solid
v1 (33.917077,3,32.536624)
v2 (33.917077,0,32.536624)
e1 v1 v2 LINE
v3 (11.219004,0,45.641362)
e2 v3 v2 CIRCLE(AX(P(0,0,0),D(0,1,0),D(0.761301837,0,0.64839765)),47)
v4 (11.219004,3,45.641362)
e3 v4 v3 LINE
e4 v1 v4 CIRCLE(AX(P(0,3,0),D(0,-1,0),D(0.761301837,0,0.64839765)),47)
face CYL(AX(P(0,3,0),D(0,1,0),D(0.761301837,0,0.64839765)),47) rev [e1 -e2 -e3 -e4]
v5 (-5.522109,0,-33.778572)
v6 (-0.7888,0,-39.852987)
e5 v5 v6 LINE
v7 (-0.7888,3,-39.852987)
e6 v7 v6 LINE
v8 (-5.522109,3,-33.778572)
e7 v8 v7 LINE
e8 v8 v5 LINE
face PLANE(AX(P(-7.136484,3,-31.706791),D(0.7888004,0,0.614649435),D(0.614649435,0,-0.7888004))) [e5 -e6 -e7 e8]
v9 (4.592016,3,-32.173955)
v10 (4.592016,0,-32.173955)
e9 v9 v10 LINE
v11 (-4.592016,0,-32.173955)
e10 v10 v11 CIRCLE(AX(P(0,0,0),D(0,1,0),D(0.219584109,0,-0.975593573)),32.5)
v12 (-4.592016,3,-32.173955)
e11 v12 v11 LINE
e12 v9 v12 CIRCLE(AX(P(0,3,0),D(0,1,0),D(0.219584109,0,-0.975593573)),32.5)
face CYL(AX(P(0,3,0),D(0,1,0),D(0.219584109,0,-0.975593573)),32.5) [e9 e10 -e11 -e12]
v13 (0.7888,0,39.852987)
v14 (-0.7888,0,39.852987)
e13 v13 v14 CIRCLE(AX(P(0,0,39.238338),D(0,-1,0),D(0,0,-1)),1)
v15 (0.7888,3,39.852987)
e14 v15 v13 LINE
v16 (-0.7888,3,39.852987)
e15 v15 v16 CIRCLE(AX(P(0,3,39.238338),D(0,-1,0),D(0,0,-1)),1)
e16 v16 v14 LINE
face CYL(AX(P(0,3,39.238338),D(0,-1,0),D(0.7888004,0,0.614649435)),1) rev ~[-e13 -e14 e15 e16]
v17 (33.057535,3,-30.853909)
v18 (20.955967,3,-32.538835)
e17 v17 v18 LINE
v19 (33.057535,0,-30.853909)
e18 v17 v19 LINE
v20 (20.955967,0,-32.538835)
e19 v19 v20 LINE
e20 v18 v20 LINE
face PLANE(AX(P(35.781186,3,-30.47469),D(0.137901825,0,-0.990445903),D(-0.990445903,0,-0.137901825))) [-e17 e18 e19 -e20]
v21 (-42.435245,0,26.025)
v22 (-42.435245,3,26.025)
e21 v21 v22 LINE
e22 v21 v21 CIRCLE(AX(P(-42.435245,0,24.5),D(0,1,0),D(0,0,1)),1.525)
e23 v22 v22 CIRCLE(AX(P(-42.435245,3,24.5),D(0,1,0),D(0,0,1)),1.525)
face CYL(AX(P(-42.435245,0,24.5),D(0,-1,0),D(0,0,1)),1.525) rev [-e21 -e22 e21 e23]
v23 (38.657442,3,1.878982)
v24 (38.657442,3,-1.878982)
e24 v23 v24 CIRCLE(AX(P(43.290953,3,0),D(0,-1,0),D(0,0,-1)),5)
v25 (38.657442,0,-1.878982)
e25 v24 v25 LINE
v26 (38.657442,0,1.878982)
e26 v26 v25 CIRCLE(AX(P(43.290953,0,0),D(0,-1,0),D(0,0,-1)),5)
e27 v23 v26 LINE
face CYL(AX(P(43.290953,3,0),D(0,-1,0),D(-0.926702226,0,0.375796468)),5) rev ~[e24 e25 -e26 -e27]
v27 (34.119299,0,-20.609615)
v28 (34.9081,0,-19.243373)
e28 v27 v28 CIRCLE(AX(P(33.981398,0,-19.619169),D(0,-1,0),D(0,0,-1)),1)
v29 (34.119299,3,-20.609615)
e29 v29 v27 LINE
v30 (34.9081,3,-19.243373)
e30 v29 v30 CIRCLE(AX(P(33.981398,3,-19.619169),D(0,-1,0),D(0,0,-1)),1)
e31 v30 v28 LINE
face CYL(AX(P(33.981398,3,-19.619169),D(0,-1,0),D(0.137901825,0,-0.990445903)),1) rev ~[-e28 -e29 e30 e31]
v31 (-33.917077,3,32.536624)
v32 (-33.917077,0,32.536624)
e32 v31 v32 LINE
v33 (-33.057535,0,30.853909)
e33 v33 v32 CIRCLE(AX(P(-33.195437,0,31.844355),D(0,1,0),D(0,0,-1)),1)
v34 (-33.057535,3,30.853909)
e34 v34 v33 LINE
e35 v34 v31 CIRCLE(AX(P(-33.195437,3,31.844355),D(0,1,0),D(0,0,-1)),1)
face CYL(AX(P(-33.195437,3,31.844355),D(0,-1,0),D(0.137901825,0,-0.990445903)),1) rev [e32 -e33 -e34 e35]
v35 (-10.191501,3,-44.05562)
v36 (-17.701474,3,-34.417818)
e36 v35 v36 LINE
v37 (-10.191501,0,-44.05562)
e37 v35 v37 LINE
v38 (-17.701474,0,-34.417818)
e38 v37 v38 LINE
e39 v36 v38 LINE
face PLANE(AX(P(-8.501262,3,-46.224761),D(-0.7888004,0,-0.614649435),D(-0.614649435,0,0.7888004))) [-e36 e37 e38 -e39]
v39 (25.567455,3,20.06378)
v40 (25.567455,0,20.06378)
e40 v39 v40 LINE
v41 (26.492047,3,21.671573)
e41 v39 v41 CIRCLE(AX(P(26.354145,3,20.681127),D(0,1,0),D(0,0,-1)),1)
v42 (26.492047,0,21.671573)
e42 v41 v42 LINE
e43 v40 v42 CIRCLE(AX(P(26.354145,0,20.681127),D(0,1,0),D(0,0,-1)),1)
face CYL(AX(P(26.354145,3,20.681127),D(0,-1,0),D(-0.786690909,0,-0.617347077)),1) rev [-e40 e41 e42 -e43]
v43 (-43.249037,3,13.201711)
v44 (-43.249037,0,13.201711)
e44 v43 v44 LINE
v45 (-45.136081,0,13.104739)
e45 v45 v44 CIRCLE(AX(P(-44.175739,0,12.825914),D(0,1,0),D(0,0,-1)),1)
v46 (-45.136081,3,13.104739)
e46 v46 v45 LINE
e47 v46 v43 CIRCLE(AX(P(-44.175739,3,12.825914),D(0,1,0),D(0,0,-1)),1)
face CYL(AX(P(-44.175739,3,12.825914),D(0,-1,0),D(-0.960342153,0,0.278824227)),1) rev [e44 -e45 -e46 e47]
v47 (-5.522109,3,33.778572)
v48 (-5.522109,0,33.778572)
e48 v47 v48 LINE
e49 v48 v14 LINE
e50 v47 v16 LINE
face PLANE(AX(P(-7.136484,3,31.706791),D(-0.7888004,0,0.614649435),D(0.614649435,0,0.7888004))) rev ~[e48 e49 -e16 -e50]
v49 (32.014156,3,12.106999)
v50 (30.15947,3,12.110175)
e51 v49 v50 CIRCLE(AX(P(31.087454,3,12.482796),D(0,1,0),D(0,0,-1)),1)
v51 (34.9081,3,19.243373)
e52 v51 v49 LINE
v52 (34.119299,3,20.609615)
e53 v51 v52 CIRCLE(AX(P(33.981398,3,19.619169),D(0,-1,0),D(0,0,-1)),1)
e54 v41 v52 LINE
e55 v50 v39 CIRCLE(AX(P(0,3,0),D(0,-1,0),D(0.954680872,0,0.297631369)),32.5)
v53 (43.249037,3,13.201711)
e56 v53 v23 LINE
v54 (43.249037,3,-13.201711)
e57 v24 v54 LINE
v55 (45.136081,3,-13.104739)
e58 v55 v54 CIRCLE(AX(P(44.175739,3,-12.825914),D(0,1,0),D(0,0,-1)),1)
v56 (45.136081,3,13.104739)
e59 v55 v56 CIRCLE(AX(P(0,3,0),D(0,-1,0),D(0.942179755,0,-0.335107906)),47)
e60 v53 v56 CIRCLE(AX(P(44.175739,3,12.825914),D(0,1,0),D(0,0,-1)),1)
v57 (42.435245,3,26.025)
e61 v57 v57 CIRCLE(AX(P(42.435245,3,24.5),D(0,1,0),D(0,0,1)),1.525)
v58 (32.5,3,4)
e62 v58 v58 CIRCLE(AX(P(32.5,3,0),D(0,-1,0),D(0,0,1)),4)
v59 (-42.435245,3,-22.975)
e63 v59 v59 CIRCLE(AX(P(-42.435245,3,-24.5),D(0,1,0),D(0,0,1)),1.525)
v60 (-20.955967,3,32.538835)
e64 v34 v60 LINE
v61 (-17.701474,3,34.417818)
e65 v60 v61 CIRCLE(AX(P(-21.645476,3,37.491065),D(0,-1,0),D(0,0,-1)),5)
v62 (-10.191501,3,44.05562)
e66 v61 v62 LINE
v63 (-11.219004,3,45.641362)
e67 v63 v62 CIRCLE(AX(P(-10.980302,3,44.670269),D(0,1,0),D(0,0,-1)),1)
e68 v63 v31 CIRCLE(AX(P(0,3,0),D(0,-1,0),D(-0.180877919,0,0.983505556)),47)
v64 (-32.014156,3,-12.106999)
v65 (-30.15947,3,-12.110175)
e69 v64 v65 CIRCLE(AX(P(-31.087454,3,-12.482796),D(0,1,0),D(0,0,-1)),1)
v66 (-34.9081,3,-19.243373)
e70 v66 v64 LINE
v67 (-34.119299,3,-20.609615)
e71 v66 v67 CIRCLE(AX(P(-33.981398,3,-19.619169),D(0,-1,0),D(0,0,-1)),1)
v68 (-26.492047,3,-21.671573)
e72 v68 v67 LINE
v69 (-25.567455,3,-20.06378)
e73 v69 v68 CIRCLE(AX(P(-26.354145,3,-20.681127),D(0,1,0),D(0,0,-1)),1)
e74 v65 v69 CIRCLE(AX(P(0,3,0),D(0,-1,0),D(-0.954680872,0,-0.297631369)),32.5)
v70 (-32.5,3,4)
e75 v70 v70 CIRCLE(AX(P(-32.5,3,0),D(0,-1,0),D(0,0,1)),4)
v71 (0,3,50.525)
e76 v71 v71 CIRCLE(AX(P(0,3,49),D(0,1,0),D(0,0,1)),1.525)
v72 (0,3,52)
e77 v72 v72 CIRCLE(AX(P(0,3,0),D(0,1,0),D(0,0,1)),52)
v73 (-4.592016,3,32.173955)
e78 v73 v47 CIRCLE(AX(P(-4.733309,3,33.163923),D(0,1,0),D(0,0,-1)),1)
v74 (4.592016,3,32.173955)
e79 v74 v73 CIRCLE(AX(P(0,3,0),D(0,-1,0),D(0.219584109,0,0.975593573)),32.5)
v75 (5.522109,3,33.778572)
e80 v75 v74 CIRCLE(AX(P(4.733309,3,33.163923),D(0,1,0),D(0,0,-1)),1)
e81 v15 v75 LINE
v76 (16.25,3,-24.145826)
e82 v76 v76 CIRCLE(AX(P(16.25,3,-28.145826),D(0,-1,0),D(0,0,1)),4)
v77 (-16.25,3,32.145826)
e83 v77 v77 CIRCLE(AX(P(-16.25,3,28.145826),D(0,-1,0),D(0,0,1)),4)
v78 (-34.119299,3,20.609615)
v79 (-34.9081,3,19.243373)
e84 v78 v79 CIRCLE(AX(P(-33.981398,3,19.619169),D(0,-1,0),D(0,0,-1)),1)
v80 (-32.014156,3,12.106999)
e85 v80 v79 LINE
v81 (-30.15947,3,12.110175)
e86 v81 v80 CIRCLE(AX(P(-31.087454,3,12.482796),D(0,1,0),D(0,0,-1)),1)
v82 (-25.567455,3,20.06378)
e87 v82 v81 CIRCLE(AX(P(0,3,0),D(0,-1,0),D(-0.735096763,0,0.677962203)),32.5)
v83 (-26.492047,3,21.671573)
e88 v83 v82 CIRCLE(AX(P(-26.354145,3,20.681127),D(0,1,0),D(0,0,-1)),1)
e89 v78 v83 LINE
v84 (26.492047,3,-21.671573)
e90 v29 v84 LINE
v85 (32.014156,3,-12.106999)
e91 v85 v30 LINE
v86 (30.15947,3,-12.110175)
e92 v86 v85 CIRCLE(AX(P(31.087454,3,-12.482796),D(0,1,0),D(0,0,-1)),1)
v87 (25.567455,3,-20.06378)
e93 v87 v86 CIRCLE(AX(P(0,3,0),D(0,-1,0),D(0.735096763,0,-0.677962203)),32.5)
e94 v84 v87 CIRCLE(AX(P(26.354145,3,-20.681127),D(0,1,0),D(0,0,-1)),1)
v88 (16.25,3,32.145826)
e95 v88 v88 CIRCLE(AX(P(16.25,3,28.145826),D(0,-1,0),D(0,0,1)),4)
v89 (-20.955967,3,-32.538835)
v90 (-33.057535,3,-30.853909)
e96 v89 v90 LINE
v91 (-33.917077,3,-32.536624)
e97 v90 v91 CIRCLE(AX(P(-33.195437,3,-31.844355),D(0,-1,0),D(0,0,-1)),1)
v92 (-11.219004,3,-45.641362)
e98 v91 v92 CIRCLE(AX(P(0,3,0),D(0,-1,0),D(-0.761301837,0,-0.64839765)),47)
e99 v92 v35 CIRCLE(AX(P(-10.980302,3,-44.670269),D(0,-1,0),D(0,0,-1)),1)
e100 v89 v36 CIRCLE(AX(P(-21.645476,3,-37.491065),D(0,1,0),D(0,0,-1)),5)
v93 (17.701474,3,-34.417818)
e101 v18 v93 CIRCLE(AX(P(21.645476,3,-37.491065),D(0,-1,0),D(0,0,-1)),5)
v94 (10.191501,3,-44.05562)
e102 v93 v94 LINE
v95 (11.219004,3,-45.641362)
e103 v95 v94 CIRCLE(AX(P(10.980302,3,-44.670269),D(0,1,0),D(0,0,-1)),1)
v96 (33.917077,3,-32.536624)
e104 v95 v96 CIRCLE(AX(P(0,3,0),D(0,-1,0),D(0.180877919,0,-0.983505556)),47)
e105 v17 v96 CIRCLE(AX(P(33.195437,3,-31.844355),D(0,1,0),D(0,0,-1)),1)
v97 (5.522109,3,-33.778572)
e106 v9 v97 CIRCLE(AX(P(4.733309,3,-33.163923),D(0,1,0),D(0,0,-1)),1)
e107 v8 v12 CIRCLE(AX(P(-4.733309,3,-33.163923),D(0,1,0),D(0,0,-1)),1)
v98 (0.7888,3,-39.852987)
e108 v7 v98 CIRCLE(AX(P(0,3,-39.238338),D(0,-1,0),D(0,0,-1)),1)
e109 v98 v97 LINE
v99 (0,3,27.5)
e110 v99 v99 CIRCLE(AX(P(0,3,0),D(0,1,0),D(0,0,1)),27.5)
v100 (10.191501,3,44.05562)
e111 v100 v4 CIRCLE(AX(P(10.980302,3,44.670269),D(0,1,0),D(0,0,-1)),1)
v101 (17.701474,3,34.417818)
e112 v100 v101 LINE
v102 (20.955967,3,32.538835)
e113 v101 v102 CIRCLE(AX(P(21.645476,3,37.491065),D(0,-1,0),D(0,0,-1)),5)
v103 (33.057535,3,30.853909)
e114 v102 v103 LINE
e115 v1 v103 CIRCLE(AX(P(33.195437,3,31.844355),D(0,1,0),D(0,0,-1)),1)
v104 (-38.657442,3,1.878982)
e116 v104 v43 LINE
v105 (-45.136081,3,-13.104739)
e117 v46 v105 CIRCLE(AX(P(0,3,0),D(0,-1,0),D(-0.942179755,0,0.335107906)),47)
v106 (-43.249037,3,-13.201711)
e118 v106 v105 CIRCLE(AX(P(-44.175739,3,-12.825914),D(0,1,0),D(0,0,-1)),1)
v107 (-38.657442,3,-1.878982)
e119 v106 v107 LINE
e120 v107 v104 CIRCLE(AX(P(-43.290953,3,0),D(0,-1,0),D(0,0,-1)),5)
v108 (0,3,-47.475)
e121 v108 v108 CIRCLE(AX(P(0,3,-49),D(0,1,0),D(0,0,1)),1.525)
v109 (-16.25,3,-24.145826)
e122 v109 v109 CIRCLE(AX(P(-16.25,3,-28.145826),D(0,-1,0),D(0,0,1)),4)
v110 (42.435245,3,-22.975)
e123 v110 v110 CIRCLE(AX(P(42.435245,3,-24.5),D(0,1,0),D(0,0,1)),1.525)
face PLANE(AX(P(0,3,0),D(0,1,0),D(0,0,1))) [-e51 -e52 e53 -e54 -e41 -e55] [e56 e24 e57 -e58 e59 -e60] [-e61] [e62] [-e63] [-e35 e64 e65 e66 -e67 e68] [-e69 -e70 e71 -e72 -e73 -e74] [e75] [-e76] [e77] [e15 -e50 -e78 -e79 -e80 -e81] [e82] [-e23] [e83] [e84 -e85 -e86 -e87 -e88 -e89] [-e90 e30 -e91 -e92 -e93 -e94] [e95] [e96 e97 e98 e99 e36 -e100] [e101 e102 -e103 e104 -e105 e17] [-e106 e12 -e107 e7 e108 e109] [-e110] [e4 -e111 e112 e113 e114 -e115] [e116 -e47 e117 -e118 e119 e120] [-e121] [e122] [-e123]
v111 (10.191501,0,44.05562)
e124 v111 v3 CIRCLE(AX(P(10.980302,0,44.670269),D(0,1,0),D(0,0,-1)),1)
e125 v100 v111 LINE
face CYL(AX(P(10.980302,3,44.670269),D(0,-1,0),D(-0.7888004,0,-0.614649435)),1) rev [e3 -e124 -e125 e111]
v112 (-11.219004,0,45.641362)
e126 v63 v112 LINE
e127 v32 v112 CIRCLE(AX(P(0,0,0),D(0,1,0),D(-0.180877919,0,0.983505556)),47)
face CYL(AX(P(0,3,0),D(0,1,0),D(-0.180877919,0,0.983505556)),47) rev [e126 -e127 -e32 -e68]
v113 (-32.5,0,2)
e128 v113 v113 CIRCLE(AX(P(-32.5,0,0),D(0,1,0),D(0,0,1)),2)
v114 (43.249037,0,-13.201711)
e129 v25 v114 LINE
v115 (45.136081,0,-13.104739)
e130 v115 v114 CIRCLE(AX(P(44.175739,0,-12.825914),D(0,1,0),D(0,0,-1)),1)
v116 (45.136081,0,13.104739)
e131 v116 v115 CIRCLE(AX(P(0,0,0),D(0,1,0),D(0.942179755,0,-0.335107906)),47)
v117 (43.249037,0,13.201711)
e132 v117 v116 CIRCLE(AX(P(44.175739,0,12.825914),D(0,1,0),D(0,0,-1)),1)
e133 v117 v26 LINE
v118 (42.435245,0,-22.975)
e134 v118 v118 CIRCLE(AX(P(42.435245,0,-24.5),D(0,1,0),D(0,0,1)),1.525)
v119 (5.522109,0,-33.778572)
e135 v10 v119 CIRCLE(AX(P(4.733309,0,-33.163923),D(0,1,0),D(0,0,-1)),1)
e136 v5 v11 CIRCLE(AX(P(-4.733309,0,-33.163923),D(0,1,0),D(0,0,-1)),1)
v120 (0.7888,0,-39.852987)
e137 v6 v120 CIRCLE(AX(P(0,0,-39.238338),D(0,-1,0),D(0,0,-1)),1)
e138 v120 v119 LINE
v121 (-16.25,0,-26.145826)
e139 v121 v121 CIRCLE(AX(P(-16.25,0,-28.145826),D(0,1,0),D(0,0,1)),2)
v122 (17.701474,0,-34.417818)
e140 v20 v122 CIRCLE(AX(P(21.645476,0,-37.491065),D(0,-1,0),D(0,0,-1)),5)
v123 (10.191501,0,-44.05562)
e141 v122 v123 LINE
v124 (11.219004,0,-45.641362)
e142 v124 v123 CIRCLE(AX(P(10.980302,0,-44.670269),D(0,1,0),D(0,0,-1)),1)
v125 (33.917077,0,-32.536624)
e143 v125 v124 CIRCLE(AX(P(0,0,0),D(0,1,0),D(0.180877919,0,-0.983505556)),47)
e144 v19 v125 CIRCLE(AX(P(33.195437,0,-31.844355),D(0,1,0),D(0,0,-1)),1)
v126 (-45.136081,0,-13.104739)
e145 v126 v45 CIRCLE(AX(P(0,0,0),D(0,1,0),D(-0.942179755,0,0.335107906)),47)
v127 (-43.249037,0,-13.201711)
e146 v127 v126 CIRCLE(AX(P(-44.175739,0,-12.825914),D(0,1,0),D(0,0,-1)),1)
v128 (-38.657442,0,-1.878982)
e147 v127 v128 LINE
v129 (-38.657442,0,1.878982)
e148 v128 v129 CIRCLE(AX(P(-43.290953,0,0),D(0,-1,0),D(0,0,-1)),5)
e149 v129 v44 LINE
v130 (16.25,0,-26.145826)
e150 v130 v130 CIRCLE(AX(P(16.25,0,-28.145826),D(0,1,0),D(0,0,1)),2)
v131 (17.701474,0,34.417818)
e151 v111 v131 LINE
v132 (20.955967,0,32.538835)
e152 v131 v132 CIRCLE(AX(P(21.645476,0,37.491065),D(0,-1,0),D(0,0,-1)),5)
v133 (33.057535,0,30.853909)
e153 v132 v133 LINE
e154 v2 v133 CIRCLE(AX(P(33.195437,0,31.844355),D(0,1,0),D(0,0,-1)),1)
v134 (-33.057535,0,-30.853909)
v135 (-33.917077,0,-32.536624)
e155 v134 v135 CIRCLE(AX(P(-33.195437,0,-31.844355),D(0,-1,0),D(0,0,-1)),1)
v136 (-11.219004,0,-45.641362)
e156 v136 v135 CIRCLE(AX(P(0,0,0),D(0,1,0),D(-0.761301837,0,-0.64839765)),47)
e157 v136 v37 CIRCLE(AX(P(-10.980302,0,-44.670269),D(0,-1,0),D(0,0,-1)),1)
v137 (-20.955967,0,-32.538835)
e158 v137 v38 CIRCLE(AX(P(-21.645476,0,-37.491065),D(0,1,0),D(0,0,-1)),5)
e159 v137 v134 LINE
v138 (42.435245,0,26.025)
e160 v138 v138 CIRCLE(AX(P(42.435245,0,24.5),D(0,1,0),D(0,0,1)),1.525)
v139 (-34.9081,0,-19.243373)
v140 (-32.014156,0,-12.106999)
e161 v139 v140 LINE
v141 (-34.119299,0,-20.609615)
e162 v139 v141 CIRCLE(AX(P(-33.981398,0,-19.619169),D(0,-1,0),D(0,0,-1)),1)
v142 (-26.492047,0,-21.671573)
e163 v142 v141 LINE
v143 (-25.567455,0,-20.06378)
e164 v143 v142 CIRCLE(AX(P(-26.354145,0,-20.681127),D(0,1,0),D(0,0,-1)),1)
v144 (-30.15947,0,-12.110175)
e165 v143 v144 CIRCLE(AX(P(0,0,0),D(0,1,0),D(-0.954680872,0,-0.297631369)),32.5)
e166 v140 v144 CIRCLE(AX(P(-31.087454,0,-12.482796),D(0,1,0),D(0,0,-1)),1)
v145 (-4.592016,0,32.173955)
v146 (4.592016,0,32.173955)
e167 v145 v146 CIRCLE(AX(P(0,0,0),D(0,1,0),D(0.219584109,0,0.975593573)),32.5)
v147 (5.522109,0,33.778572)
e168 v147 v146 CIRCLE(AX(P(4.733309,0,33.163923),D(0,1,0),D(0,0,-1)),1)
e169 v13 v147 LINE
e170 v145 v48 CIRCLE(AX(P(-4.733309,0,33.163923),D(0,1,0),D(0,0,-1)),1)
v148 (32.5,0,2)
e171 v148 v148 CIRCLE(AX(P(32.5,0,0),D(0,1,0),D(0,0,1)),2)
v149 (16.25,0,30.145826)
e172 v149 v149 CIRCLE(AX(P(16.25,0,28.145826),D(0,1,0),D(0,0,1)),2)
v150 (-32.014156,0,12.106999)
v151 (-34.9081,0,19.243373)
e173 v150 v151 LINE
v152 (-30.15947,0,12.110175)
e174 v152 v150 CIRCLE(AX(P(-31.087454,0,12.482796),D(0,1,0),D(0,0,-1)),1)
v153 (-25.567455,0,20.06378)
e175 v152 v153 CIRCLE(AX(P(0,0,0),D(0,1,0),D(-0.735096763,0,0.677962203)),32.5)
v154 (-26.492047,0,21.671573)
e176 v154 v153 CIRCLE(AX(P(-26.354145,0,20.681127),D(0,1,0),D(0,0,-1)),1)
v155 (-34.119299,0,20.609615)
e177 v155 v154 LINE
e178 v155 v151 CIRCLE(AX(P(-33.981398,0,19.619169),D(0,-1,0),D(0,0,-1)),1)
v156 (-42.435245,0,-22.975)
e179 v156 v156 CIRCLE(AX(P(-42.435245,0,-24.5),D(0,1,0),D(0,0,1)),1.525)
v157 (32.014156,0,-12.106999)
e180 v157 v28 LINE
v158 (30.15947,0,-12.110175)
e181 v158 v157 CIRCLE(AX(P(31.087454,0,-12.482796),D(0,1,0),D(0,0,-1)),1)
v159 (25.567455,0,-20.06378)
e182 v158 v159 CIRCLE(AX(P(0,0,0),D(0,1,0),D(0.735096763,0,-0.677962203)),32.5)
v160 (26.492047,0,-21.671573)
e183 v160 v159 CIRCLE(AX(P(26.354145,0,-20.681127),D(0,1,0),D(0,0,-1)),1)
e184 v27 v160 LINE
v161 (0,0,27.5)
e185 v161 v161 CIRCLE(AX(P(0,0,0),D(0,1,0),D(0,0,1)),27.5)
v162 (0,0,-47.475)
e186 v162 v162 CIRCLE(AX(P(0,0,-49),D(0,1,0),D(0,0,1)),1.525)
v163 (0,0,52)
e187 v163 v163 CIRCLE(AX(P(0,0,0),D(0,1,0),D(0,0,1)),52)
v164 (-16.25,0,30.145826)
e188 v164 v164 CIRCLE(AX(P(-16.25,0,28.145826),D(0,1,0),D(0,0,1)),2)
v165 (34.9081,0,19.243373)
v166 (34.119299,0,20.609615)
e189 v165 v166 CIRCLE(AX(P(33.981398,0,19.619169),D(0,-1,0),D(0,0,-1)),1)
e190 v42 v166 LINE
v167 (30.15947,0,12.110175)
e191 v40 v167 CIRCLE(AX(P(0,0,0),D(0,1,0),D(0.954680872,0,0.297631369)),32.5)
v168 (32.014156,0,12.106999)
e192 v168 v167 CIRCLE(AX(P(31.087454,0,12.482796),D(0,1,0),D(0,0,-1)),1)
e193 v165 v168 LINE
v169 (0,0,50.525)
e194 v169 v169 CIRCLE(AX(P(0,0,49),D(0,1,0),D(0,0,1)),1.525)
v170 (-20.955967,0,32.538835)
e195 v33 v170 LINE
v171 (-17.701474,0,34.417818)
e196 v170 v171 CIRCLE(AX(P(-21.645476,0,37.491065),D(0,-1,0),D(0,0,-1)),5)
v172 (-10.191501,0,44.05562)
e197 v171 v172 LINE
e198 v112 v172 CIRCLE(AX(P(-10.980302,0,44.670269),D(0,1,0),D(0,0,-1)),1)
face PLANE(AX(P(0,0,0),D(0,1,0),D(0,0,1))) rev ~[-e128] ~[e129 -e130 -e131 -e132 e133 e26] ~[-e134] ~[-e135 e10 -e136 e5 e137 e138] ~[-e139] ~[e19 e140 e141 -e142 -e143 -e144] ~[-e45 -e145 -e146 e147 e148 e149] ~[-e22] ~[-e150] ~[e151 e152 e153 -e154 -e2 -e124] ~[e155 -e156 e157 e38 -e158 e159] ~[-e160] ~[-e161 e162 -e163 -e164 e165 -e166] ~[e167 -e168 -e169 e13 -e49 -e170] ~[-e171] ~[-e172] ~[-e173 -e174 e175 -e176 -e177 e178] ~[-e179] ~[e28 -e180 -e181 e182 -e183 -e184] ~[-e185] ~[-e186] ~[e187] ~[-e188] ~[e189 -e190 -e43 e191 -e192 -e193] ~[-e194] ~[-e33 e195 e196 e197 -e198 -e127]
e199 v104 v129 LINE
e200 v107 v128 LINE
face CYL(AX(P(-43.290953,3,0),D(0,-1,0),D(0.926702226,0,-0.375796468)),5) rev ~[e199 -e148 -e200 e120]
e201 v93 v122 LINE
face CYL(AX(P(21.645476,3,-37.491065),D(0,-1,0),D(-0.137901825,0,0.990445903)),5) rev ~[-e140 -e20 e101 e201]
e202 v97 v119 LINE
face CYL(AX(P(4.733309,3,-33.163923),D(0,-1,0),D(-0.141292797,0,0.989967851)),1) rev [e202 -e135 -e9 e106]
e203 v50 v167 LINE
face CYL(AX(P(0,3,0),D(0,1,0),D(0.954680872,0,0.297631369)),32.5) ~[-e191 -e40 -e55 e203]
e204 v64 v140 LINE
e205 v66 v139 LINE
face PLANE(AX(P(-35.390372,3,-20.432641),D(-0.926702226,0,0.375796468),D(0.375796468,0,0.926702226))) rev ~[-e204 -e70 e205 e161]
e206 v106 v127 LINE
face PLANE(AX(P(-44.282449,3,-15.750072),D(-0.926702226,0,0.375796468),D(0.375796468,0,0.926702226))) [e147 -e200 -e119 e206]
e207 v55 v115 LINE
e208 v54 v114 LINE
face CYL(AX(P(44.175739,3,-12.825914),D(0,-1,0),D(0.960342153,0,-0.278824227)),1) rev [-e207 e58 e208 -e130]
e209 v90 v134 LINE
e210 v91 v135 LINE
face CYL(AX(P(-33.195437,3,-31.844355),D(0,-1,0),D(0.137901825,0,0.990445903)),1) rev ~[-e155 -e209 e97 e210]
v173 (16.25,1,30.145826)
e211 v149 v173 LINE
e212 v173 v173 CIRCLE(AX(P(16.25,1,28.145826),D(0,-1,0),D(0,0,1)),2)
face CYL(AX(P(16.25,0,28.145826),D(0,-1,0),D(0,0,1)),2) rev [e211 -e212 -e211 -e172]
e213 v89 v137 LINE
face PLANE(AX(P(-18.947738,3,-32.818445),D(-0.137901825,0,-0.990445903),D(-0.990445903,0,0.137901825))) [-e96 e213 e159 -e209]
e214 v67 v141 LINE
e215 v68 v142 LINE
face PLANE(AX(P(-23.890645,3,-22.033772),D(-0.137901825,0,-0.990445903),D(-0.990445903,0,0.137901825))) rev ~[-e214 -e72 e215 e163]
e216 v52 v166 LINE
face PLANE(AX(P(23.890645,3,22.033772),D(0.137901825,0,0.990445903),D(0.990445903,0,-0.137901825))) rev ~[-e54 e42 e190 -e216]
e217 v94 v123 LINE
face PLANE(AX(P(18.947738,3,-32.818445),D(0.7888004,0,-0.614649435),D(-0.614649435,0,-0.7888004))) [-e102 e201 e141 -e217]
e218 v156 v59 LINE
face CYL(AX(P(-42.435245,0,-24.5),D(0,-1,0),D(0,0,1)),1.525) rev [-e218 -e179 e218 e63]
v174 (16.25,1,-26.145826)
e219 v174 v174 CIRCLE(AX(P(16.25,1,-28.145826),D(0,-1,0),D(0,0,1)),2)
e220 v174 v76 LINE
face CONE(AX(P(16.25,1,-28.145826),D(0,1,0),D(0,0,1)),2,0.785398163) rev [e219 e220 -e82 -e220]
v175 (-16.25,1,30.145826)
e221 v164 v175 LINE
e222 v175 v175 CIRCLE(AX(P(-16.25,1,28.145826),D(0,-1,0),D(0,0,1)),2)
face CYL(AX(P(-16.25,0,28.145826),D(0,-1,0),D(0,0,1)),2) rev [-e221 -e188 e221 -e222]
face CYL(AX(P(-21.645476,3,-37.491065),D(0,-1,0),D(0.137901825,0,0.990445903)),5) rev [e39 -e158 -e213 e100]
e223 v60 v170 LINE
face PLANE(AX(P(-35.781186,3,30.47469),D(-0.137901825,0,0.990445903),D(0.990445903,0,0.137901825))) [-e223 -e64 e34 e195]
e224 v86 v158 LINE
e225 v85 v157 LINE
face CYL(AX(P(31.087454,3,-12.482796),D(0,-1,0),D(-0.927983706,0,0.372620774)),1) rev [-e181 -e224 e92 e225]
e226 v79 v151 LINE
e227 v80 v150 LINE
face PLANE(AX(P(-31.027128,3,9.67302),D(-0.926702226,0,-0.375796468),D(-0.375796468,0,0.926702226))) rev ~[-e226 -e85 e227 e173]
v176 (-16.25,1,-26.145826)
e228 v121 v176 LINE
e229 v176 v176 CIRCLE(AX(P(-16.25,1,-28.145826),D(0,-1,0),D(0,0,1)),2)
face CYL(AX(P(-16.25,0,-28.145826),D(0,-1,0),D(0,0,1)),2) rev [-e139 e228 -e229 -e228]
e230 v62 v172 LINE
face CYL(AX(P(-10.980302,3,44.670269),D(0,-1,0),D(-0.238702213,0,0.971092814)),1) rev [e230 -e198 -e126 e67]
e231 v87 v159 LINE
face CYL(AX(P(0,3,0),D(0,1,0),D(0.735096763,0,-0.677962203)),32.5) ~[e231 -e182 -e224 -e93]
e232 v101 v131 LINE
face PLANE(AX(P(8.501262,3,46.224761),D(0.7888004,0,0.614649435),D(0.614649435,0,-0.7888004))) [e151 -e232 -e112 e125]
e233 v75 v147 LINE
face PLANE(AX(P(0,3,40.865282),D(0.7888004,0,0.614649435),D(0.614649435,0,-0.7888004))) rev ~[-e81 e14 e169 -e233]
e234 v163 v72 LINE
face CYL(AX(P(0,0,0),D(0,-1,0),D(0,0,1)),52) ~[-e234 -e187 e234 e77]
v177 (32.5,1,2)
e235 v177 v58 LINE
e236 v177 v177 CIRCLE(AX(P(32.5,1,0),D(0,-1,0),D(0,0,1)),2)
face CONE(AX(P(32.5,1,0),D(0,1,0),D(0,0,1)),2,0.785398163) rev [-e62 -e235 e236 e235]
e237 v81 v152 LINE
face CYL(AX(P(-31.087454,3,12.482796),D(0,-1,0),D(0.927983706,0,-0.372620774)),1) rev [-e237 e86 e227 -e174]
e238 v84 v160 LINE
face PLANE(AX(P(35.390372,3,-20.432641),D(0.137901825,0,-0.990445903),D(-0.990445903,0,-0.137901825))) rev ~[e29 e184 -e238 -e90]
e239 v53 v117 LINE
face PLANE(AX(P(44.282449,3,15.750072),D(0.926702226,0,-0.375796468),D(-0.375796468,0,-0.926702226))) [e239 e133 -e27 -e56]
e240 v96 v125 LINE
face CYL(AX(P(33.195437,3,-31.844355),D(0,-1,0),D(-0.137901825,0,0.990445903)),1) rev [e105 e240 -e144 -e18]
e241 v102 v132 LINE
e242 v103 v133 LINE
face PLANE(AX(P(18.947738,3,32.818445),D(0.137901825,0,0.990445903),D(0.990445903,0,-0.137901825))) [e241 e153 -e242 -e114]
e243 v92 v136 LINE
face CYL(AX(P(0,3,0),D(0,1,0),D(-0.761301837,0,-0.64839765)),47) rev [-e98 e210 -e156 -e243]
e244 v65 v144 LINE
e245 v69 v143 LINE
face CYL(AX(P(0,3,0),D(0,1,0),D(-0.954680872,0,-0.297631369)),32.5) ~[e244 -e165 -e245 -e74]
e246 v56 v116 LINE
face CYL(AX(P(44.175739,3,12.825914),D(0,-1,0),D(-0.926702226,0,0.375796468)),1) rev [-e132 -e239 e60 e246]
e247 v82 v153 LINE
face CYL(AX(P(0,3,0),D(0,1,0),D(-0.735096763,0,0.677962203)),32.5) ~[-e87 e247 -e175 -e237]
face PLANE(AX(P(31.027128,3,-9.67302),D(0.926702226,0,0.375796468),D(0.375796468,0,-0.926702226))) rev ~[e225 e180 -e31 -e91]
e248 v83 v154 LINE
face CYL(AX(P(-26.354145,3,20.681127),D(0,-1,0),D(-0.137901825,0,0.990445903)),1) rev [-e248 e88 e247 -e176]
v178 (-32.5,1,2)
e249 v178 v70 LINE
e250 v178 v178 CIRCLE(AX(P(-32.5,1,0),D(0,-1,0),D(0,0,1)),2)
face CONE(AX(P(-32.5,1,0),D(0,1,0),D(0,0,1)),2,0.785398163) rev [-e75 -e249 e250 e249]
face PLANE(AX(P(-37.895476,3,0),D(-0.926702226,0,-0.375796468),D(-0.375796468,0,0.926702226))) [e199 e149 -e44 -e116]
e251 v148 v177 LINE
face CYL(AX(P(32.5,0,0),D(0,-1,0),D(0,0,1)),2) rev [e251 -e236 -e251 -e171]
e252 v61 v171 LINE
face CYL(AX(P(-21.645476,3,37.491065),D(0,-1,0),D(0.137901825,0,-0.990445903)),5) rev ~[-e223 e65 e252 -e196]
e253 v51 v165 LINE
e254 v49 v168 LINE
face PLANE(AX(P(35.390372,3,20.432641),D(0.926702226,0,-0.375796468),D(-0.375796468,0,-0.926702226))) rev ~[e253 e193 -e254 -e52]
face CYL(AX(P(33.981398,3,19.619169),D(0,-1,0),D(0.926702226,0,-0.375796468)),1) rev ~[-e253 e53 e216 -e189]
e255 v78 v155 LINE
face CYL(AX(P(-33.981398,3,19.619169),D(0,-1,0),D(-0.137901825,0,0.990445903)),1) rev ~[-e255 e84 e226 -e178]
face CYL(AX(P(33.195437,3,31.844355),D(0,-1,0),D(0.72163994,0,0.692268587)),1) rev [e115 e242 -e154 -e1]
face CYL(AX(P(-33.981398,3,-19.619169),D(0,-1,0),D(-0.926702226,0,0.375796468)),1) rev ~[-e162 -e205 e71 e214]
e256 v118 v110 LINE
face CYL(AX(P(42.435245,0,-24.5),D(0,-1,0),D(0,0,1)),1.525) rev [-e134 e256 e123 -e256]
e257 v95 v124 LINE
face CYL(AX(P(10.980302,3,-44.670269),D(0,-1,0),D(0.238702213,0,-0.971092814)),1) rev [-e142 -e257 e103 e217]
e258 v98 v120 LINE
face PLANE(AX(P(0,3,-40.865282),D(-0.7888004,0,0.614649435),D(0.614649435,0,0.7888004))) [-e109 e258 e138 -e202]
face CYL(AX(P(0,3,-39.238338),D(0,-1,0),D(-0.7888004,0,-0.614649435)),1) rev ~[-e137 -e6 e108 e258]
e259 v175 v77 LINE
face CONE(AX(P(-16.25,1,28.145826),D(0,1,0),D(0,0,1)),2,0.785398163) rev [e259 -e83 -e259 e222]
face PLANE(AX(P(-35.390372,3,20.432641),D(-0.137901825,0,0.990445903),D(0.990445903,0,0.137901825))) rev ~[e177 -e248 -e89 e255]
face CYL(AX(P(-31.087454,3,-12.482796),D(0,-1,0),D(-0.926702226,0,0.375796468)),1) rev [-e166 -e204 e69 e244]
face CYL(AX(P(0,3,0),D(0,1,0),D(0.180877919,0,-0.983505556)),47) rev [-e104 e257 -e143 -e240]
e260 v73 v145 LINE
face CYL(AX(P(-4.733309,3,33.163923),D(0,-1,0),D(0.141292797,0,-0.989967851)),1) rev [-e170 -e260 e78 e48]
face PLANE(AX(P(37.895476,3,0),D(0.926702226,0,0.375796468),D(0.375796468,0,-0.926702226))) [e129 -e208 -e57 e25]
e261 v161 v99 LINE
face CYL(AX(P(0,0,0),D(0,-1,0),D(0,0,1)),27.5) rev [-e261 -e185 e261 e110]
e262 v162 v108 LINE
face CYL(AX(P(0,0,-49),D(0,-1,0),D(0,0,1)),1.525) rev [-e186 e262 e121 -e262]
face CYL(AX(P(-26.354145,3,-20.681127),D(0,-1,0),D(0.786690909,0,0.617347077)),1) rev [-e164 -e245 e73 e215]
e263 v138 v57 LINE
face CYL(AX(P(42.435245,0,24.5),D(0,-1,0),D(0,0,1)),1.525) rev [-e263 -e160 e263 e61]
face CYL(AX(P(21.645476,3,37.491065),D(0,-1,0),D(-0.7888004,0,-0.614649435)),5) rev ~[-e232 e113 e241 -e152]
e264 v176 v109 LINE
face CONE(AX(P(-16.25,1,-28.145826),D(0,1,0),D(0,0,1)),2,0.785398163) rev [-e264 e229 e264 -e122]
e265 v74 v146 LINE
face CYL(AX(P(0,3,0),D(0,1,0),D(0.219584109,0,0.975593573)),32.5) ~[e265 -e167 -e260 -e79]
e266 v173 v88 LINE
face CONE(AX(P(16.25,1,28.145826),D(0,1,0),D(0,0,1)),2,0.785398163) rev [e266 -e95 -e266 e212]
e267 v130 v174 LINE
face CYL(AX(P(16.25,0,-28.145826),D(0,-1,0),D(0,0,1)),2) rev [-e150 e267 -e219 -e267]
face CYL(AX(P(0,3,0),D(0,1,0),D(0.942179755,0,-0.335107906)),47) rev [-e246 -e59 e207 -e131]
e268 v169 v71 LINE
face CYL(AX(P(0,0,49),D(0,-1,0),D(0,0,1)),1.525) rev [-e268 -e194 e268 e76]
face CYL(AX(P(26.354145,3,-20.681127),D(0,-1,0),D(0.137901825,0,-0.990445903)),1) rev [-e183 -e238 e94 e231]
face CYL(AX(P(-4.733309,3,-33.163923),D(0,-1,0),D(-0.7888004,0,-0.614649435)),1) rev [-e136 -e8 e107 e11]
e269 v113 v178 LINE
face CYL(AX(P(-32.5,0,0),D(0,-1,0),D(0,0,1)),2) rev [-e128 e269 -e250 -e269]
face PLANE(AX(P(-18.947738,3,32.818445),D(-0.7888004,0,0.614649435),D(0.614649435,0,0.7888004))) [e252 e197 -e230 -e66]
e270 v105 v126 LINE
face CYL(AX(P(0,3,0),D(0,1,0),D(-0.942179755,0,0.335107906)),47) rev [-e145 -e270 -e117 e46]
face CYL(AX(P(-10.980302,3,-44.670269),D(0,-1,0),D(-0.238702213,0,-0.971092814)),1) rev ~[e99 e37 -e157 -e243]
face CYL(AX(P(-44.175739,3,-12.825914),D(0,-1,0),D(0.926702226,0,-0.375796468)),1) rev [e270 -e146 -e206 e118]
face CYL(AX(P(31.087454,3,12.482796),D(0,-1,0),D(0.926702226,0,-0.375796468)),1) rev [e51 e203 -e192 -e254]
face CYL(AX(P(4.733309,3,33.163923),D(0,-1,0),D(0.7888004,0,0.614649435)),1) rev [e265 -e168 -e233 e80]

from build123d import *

# Parameters (mm, degrees)
SKETCH_1_R               = 52
SKETCH_1_R_2             = 1.525
SKETCH_1_R_3             = 2
SKETCH_1_R_4             = 27.5
EXTRUDE_1_DEPTH          = 3
HOLE_WIZARD_1_AT_2_COUNT = 2
HOLE_WIZARD_1_AT_2_PITCH = 32.5
HOLE_WIZARD_1_AT_3_COUNT = 2
HOLE_WIZARD_1_AT_3_PITCH = 56.291651246
HOLE_WIZARD_1_AT_4_COUNT = 2
HOLE_WIZARD_1_AT_4_PITCH = 65
HOLE_WIZARD_1_AT_5_COUNT = 2
HOLE_WIZARD_1_AT_5_PITCH = 56.291651246
HOLE_WIZARD_1_AT_6_COUNT = 2
HOLE_WIZARD_1_AT_6_PITCH = 32.5
CUT_EXTRUDE_1_DEPTH      = 10
FILLET_1_R               = 5
FILLET_2_R               = 1


with BuildPart() as part:
    # 草图1 → 凸台-拉伸1 (new body)
    with BuildSketch(Plane(origin=(0, 0, 0), x_dir=(1, 0, 0), z_dir=(0, 1, 0))):
        with Locations(Location((0, 0, 0), (0, 0, 270))):
            Circle(SKETCH_1_R)
        with Locations(Location((0, 49, 0), (0, 0, 270))):
            Circle(SKETCH_1_R_2, mode=Mode.SUBTRACT)
        with Locations(Location((-16.25, 28.145825623, 0), (0, 0, 270))):
            Circle(SKETCH_1_R_3, mode=Mode.SUBTRACT)
        with Locations(Location((42.435244785, 24.5, 0), (0, 0, 270))):
            Circle(SKETCH_1_R_2, mode=Mode.SUBTRACT)
        with Locations(Location((16.25, 28.145825623, 0), (0, 0, 270))):
            Circle(SKETCH_1_R_3, mode=Mode.SUBTRACT)
        with Locations(Location((42.435244785, -24.5, 0), (0, 0, 270))):
            Circle(SKETCH_1_R_2, mode=Mode.SUBTRACT)
        with Locations(Location((32.5, 0, 0), (0, 0, 270))):
            Circle(SKETCH_1_R_3, mode=Mode.SUBTRACT)
        with Locations(Location((0, -49, 0), (0, 0, 270))):
            Circle(SKETCH_1_R_2, mode=Mode.SUBTRACT)
        with Locations(Location((16.25, -28.145825623, 0), (0, 0, 270))):
            Circle(SKETCH_1_R_3, mode=Mode.SUBTRACT)
        with Locations(Location((-42.435244785, -24.5, 0), (0, 0, 270))):
            Circle(SKETCH_1_R_2, mode=Mode.SUBTRACT)
        with Locations(Location((-16.25, -28.145825623, 0), (0, 0, 270))):
            Circle(SKETCH_1_R_3, mode=Mode.SUBTRACT)
        with Locations(Location((-42.435244785, 24.5, 0), (0, 0, 270))):
            Circle(SKETCH_1_R_2, mode=Mode.SUBTRACT)
        with Locations(Location((-32.5, 0, 0), (0, 0, 270))):
            Circle(SKETCH_1_R_3, mode=Mode.SUBTRACT)
        with Locations(Location((0, 0, 0), (0, 0, 270))):
            Circle(SKETCH_1_R_4, mode=Mode.SUBTRACT)
    extrude(amount=EXTRUDE_1_DEPTH)

    # 草图3 → 孔1 (revolve, cut)
    with BuildSketch(Plane(origin=(-16.25, 3, -28.145825623), x_dir=(0, 0, 1), z_dir=(1, 0, 0))):
        Polygon((0, 0), (0, 3), (2, 3), (2, 2), (4, 0), align=None)
    hole_wizard_1 = revolve(axis=Axis((-16.25, 9.445314094, -28.145825623), (0, -1, 0)), mode=Mode.SUBTRACT)

    # 孔1 at 2: 孔1 ×2
    with Locations(*[(i * HOLE_WIZARD_1_AT_2_PITCH, 0, 0) for i in range(1, HOLE_WIZARD_1_AT_2_COUNT)]):
        add(hole_wizard_1, mode=Mode.SUBTRACT)

    # 孔1 at 3: 孔1 ×2
    with Locations(*[Vector(0.8660254037844387, 0, 0.5) * (i * HOLE_WIZARD_1_AT_3_PITCH) for i in range(1, HOLE_WIZARD_1_AT_3_COUNT)]):
        add(hole_wizard_1, mode=Mode.SUBTRACT)

    # 孔1 at 4: 孔1 ×2
    with Locations(*[Vector(0.5000000000000001, 0, 0.8660254037844386) * (i * HOLE_WIZARD_1_AT_4_PITCH) for i in range(1, HOLE_WIZARD_1_AT_4_COUNT)]):
        add(hole_wizard_1, mode=Mode.SUBTRACT)

    # 孔1 at 5: 孔1 ×2
    with Locations(*[(0, 0, i * HOLE_WIZARD_1_AT_5_PITCH) for i in range(1, HOLE_WIZARD_1_AT_5_COUNT)]):
        add(hole_wizard_1, mode=Mode.SUBTRACT)

    # 孔1 at 6: 孔1 ×2
    with Locations(*[Vector(-0.5000000000000003, 0, 0.8660254037844386) * (i * HOLE_WIZARD_1_AT_6_PITCH) for i in range(1, HOLE_WIZARD_1_AT_6_COUNT)]):
        add(hole_wizard_1, mode=Mode.SUBTRACT)

    # 草图5 → 切除-拉伸1 (cut)
    with BuildSketch(Plane(origin=(0, 3, 0), x_dir=(1, 0, 0), z_dir=(0, 1, 0))):
        with BuildLine():
            Line((-8.501262172, 46.22476113), (-18.947738206, 32.818445262))
            Line((-18.947738206, 32.818445262), (-35.781186336, 30.47468957))
            ThreePointArc((-35.781186336, 30.47468957), (-23.5, 40.703193978), (-8.501262172, 46.22476113))
        make_face()
        with BuildLine():
            Line((0, 40.865281716), (7.136483547, 31.706791111))
            ThreePointArc((7.136483547, 31.706791111), (0, 32.5), (-7.136483547, 31.706791111))
            Line((-7.136483547, 31.706791111), (0, 40.865281716))
        make_face()
        with BuildLine():
            Line((18.947738206, 32.818445262), (8.501262172, 46.22476113))
            ThreePointArc((8.501262172, 46.22476113), (23.5, 40.703193978), (35.781186336, 30.47468957))
            Line((35.781186336, 30.47468957), (18.947738206, 32.818445262))
        make_face()
        with BuildLine():
            Line((35.390372099, 20.432640858), (23.890644801, 22.033771601))
            ThreePointArc((23.890644801, 22.033771601), (28.145825623, 16.25), (31.027128348, 9.67301951))
            Line((31.027128348, 9.67301951), (35.390372099, 20.432640858))
        make_face()
        with BuildLine():
            Line((37.895476413, 0), (44.282448508, 15.75007156))
            ThreePointArc((44.282448508, 15.75007156), (47, 0), (44.282448508, -15.75007156))
            Line((44.282448508, -15.75007156), (37.895476413, 0))
        make_face()
        with BuildLine():
            Line((35.390372099, -20.432640858), (31.027128348, -9.67301951))
            ThreePointArc((31.027128348, -9.67301951), (28.145825623, -16.25), (23.890644801, -22.033771601))
            Line((23.890644801, -22.033771601), (35.390372099, -20.432640858))
        make_face()
        with BuildLine():
            Line((18.947738206, -32.818445262), (35.781186336, -30.47468957))
            ThreePointArc((35.781186336, -30.47468957), (23.5, -40.703193978), (8.501262172, -46.22476113))
            Line((8.501262172, -46.22476113), (18.947738206, -32.818445262))
        make_face()
        with BuildLine():
            Line((0, -40.865281716), (7.136483547, -31.706791111))
            ThreePointArc((7.136483547, -31.706791111), (0, -32.5), (-7.136483547, -31.706791111))
            Line((-7.136483547, -31.706791111), (0, -40.865281716))
        make_face()
        with BuildLine():
            Line((-18.947738206, -32.818445262), (-8.501262172, -46.22476113))
            ThreePointArc((-8.501262172, -46.22476113), (-23.5, -40.703193978), (-35.781186336, -30.47468957))
            Line((-35.781186336, -30.47468957), (-18.947738206, -32.818445262))
        make_face()
        with BuildLine():
            Line((-35.390372099, -20.432640858), (-23.890644801, -22.033771601))
            ThreePointArc((-23.890644801, -22.033771601), (-28.145825623, -16.25), (-31.027128348, -9.67301951))
            Line((-31.027128348, -9.67301951), (-35.390372099, -20.432640858))
        make_face()
        with BuildLine():
            Line((-37.895476413, 0), (-44.282448508, -15.75007156))
            ThreePointArc((-44.282448508, -15.75007156), (-47, 0), (-44.282448508, 15.75007156))
            Line((-44.282448508, 15.75007156), (-37.895476413, 0))
        make_face()
        with BuildLine():
            Line((-35.390372099, 20.432640858), (-31.027128348, 9.67301951))
            ThreePointArc((-31.027128348, 9.67301951), (-28.145825623, 16.25), (-23.890644801, 22.033771601))
            Line((-23.890644801, 22.033771601), (-35.390372099, 20.432640858))
        make_face()
    extrude(amount=-CUT_EXTRUDE_1_DEPTH, mode=Mode.SUBTRACT)

    # 圆角1
    fillet_1_edges = [part.edges().sort_by_distance(p)[0] for p in [
        (-18.947738206, 1.5, 32.818445262),
        (18.947738206, 1.5, 32.818445262),
        (37.895476413, 1.5, 0),
        (18.947738206, 1.5, -32.818445262),
        (-37.895476413, 1.5, 0),
        (-18.947738206, 1.5, -32.818445262),
    ]]
    fillet(fillet_1_edges, radius=FILLET_1_R)

    # 圆角2
    fillet_2_edges = [part.edges().sort_by_distance(p)[0] for p in [
        (-8.501262172, 1.5, 46.22476113),
        (-35.781186336, 1.5, 30.47468957),
        (0, 1.5, 40.865281716),
        (-7.136483547, 1.5, 31.706791111),
        (7.136483547, 1.5, 31.706791111),
        (35.781186336, 1.5, 30.47468957),
        (8.501262172, 1.5, 46.22476113),
        (35.390372099, 1.5, 20.432640858),
        (23.890644801, 1.5, 22.033771601),
        (31.027128348, 1.5, 9.67301951),
        (44.282448508, 1.5, -15.75007156),
        (44.282448508, 1.5, 15.75007156),
        (35.390372099, 1.5, -20.432640858),
        (31.027128348, 1.5, -9.67301951),
        (23.890644801, 1.5, -22.033771601),
        (8.501262172, 1.5, -46.22476113),
        (35.781186336, 1.5, -30.47468957),
        (-7.136483547, 1.5, -31.706791111),
        (0, 1.5, -40.865281716),
        (7.136483547, 1.5, -31.706791111),
        (-35.390372099, 1.5, -20.432640858),
        (-23.890644801, 1.5, -22.033771601),
        (-31.027128348, 1.5, -9.67301951),
        (-44.282448508, 1.5, 15.75007156),
        (-44.282448508, 1.5, -15.75007156),
        (-35.390372099, 1.5, 20.432640858),
        (-31.027128348, 1.5, 9.67301951),
        (-23.890644801, 1.5, 22.033771601),
        (-35.781186336, 1.5, -30.47468957),
        (-8.501262172, 1.5, -46.22476113),
    ]]
    fillet(fillet_2_edges, radius=FILLET_2_R)


solid = part.part
